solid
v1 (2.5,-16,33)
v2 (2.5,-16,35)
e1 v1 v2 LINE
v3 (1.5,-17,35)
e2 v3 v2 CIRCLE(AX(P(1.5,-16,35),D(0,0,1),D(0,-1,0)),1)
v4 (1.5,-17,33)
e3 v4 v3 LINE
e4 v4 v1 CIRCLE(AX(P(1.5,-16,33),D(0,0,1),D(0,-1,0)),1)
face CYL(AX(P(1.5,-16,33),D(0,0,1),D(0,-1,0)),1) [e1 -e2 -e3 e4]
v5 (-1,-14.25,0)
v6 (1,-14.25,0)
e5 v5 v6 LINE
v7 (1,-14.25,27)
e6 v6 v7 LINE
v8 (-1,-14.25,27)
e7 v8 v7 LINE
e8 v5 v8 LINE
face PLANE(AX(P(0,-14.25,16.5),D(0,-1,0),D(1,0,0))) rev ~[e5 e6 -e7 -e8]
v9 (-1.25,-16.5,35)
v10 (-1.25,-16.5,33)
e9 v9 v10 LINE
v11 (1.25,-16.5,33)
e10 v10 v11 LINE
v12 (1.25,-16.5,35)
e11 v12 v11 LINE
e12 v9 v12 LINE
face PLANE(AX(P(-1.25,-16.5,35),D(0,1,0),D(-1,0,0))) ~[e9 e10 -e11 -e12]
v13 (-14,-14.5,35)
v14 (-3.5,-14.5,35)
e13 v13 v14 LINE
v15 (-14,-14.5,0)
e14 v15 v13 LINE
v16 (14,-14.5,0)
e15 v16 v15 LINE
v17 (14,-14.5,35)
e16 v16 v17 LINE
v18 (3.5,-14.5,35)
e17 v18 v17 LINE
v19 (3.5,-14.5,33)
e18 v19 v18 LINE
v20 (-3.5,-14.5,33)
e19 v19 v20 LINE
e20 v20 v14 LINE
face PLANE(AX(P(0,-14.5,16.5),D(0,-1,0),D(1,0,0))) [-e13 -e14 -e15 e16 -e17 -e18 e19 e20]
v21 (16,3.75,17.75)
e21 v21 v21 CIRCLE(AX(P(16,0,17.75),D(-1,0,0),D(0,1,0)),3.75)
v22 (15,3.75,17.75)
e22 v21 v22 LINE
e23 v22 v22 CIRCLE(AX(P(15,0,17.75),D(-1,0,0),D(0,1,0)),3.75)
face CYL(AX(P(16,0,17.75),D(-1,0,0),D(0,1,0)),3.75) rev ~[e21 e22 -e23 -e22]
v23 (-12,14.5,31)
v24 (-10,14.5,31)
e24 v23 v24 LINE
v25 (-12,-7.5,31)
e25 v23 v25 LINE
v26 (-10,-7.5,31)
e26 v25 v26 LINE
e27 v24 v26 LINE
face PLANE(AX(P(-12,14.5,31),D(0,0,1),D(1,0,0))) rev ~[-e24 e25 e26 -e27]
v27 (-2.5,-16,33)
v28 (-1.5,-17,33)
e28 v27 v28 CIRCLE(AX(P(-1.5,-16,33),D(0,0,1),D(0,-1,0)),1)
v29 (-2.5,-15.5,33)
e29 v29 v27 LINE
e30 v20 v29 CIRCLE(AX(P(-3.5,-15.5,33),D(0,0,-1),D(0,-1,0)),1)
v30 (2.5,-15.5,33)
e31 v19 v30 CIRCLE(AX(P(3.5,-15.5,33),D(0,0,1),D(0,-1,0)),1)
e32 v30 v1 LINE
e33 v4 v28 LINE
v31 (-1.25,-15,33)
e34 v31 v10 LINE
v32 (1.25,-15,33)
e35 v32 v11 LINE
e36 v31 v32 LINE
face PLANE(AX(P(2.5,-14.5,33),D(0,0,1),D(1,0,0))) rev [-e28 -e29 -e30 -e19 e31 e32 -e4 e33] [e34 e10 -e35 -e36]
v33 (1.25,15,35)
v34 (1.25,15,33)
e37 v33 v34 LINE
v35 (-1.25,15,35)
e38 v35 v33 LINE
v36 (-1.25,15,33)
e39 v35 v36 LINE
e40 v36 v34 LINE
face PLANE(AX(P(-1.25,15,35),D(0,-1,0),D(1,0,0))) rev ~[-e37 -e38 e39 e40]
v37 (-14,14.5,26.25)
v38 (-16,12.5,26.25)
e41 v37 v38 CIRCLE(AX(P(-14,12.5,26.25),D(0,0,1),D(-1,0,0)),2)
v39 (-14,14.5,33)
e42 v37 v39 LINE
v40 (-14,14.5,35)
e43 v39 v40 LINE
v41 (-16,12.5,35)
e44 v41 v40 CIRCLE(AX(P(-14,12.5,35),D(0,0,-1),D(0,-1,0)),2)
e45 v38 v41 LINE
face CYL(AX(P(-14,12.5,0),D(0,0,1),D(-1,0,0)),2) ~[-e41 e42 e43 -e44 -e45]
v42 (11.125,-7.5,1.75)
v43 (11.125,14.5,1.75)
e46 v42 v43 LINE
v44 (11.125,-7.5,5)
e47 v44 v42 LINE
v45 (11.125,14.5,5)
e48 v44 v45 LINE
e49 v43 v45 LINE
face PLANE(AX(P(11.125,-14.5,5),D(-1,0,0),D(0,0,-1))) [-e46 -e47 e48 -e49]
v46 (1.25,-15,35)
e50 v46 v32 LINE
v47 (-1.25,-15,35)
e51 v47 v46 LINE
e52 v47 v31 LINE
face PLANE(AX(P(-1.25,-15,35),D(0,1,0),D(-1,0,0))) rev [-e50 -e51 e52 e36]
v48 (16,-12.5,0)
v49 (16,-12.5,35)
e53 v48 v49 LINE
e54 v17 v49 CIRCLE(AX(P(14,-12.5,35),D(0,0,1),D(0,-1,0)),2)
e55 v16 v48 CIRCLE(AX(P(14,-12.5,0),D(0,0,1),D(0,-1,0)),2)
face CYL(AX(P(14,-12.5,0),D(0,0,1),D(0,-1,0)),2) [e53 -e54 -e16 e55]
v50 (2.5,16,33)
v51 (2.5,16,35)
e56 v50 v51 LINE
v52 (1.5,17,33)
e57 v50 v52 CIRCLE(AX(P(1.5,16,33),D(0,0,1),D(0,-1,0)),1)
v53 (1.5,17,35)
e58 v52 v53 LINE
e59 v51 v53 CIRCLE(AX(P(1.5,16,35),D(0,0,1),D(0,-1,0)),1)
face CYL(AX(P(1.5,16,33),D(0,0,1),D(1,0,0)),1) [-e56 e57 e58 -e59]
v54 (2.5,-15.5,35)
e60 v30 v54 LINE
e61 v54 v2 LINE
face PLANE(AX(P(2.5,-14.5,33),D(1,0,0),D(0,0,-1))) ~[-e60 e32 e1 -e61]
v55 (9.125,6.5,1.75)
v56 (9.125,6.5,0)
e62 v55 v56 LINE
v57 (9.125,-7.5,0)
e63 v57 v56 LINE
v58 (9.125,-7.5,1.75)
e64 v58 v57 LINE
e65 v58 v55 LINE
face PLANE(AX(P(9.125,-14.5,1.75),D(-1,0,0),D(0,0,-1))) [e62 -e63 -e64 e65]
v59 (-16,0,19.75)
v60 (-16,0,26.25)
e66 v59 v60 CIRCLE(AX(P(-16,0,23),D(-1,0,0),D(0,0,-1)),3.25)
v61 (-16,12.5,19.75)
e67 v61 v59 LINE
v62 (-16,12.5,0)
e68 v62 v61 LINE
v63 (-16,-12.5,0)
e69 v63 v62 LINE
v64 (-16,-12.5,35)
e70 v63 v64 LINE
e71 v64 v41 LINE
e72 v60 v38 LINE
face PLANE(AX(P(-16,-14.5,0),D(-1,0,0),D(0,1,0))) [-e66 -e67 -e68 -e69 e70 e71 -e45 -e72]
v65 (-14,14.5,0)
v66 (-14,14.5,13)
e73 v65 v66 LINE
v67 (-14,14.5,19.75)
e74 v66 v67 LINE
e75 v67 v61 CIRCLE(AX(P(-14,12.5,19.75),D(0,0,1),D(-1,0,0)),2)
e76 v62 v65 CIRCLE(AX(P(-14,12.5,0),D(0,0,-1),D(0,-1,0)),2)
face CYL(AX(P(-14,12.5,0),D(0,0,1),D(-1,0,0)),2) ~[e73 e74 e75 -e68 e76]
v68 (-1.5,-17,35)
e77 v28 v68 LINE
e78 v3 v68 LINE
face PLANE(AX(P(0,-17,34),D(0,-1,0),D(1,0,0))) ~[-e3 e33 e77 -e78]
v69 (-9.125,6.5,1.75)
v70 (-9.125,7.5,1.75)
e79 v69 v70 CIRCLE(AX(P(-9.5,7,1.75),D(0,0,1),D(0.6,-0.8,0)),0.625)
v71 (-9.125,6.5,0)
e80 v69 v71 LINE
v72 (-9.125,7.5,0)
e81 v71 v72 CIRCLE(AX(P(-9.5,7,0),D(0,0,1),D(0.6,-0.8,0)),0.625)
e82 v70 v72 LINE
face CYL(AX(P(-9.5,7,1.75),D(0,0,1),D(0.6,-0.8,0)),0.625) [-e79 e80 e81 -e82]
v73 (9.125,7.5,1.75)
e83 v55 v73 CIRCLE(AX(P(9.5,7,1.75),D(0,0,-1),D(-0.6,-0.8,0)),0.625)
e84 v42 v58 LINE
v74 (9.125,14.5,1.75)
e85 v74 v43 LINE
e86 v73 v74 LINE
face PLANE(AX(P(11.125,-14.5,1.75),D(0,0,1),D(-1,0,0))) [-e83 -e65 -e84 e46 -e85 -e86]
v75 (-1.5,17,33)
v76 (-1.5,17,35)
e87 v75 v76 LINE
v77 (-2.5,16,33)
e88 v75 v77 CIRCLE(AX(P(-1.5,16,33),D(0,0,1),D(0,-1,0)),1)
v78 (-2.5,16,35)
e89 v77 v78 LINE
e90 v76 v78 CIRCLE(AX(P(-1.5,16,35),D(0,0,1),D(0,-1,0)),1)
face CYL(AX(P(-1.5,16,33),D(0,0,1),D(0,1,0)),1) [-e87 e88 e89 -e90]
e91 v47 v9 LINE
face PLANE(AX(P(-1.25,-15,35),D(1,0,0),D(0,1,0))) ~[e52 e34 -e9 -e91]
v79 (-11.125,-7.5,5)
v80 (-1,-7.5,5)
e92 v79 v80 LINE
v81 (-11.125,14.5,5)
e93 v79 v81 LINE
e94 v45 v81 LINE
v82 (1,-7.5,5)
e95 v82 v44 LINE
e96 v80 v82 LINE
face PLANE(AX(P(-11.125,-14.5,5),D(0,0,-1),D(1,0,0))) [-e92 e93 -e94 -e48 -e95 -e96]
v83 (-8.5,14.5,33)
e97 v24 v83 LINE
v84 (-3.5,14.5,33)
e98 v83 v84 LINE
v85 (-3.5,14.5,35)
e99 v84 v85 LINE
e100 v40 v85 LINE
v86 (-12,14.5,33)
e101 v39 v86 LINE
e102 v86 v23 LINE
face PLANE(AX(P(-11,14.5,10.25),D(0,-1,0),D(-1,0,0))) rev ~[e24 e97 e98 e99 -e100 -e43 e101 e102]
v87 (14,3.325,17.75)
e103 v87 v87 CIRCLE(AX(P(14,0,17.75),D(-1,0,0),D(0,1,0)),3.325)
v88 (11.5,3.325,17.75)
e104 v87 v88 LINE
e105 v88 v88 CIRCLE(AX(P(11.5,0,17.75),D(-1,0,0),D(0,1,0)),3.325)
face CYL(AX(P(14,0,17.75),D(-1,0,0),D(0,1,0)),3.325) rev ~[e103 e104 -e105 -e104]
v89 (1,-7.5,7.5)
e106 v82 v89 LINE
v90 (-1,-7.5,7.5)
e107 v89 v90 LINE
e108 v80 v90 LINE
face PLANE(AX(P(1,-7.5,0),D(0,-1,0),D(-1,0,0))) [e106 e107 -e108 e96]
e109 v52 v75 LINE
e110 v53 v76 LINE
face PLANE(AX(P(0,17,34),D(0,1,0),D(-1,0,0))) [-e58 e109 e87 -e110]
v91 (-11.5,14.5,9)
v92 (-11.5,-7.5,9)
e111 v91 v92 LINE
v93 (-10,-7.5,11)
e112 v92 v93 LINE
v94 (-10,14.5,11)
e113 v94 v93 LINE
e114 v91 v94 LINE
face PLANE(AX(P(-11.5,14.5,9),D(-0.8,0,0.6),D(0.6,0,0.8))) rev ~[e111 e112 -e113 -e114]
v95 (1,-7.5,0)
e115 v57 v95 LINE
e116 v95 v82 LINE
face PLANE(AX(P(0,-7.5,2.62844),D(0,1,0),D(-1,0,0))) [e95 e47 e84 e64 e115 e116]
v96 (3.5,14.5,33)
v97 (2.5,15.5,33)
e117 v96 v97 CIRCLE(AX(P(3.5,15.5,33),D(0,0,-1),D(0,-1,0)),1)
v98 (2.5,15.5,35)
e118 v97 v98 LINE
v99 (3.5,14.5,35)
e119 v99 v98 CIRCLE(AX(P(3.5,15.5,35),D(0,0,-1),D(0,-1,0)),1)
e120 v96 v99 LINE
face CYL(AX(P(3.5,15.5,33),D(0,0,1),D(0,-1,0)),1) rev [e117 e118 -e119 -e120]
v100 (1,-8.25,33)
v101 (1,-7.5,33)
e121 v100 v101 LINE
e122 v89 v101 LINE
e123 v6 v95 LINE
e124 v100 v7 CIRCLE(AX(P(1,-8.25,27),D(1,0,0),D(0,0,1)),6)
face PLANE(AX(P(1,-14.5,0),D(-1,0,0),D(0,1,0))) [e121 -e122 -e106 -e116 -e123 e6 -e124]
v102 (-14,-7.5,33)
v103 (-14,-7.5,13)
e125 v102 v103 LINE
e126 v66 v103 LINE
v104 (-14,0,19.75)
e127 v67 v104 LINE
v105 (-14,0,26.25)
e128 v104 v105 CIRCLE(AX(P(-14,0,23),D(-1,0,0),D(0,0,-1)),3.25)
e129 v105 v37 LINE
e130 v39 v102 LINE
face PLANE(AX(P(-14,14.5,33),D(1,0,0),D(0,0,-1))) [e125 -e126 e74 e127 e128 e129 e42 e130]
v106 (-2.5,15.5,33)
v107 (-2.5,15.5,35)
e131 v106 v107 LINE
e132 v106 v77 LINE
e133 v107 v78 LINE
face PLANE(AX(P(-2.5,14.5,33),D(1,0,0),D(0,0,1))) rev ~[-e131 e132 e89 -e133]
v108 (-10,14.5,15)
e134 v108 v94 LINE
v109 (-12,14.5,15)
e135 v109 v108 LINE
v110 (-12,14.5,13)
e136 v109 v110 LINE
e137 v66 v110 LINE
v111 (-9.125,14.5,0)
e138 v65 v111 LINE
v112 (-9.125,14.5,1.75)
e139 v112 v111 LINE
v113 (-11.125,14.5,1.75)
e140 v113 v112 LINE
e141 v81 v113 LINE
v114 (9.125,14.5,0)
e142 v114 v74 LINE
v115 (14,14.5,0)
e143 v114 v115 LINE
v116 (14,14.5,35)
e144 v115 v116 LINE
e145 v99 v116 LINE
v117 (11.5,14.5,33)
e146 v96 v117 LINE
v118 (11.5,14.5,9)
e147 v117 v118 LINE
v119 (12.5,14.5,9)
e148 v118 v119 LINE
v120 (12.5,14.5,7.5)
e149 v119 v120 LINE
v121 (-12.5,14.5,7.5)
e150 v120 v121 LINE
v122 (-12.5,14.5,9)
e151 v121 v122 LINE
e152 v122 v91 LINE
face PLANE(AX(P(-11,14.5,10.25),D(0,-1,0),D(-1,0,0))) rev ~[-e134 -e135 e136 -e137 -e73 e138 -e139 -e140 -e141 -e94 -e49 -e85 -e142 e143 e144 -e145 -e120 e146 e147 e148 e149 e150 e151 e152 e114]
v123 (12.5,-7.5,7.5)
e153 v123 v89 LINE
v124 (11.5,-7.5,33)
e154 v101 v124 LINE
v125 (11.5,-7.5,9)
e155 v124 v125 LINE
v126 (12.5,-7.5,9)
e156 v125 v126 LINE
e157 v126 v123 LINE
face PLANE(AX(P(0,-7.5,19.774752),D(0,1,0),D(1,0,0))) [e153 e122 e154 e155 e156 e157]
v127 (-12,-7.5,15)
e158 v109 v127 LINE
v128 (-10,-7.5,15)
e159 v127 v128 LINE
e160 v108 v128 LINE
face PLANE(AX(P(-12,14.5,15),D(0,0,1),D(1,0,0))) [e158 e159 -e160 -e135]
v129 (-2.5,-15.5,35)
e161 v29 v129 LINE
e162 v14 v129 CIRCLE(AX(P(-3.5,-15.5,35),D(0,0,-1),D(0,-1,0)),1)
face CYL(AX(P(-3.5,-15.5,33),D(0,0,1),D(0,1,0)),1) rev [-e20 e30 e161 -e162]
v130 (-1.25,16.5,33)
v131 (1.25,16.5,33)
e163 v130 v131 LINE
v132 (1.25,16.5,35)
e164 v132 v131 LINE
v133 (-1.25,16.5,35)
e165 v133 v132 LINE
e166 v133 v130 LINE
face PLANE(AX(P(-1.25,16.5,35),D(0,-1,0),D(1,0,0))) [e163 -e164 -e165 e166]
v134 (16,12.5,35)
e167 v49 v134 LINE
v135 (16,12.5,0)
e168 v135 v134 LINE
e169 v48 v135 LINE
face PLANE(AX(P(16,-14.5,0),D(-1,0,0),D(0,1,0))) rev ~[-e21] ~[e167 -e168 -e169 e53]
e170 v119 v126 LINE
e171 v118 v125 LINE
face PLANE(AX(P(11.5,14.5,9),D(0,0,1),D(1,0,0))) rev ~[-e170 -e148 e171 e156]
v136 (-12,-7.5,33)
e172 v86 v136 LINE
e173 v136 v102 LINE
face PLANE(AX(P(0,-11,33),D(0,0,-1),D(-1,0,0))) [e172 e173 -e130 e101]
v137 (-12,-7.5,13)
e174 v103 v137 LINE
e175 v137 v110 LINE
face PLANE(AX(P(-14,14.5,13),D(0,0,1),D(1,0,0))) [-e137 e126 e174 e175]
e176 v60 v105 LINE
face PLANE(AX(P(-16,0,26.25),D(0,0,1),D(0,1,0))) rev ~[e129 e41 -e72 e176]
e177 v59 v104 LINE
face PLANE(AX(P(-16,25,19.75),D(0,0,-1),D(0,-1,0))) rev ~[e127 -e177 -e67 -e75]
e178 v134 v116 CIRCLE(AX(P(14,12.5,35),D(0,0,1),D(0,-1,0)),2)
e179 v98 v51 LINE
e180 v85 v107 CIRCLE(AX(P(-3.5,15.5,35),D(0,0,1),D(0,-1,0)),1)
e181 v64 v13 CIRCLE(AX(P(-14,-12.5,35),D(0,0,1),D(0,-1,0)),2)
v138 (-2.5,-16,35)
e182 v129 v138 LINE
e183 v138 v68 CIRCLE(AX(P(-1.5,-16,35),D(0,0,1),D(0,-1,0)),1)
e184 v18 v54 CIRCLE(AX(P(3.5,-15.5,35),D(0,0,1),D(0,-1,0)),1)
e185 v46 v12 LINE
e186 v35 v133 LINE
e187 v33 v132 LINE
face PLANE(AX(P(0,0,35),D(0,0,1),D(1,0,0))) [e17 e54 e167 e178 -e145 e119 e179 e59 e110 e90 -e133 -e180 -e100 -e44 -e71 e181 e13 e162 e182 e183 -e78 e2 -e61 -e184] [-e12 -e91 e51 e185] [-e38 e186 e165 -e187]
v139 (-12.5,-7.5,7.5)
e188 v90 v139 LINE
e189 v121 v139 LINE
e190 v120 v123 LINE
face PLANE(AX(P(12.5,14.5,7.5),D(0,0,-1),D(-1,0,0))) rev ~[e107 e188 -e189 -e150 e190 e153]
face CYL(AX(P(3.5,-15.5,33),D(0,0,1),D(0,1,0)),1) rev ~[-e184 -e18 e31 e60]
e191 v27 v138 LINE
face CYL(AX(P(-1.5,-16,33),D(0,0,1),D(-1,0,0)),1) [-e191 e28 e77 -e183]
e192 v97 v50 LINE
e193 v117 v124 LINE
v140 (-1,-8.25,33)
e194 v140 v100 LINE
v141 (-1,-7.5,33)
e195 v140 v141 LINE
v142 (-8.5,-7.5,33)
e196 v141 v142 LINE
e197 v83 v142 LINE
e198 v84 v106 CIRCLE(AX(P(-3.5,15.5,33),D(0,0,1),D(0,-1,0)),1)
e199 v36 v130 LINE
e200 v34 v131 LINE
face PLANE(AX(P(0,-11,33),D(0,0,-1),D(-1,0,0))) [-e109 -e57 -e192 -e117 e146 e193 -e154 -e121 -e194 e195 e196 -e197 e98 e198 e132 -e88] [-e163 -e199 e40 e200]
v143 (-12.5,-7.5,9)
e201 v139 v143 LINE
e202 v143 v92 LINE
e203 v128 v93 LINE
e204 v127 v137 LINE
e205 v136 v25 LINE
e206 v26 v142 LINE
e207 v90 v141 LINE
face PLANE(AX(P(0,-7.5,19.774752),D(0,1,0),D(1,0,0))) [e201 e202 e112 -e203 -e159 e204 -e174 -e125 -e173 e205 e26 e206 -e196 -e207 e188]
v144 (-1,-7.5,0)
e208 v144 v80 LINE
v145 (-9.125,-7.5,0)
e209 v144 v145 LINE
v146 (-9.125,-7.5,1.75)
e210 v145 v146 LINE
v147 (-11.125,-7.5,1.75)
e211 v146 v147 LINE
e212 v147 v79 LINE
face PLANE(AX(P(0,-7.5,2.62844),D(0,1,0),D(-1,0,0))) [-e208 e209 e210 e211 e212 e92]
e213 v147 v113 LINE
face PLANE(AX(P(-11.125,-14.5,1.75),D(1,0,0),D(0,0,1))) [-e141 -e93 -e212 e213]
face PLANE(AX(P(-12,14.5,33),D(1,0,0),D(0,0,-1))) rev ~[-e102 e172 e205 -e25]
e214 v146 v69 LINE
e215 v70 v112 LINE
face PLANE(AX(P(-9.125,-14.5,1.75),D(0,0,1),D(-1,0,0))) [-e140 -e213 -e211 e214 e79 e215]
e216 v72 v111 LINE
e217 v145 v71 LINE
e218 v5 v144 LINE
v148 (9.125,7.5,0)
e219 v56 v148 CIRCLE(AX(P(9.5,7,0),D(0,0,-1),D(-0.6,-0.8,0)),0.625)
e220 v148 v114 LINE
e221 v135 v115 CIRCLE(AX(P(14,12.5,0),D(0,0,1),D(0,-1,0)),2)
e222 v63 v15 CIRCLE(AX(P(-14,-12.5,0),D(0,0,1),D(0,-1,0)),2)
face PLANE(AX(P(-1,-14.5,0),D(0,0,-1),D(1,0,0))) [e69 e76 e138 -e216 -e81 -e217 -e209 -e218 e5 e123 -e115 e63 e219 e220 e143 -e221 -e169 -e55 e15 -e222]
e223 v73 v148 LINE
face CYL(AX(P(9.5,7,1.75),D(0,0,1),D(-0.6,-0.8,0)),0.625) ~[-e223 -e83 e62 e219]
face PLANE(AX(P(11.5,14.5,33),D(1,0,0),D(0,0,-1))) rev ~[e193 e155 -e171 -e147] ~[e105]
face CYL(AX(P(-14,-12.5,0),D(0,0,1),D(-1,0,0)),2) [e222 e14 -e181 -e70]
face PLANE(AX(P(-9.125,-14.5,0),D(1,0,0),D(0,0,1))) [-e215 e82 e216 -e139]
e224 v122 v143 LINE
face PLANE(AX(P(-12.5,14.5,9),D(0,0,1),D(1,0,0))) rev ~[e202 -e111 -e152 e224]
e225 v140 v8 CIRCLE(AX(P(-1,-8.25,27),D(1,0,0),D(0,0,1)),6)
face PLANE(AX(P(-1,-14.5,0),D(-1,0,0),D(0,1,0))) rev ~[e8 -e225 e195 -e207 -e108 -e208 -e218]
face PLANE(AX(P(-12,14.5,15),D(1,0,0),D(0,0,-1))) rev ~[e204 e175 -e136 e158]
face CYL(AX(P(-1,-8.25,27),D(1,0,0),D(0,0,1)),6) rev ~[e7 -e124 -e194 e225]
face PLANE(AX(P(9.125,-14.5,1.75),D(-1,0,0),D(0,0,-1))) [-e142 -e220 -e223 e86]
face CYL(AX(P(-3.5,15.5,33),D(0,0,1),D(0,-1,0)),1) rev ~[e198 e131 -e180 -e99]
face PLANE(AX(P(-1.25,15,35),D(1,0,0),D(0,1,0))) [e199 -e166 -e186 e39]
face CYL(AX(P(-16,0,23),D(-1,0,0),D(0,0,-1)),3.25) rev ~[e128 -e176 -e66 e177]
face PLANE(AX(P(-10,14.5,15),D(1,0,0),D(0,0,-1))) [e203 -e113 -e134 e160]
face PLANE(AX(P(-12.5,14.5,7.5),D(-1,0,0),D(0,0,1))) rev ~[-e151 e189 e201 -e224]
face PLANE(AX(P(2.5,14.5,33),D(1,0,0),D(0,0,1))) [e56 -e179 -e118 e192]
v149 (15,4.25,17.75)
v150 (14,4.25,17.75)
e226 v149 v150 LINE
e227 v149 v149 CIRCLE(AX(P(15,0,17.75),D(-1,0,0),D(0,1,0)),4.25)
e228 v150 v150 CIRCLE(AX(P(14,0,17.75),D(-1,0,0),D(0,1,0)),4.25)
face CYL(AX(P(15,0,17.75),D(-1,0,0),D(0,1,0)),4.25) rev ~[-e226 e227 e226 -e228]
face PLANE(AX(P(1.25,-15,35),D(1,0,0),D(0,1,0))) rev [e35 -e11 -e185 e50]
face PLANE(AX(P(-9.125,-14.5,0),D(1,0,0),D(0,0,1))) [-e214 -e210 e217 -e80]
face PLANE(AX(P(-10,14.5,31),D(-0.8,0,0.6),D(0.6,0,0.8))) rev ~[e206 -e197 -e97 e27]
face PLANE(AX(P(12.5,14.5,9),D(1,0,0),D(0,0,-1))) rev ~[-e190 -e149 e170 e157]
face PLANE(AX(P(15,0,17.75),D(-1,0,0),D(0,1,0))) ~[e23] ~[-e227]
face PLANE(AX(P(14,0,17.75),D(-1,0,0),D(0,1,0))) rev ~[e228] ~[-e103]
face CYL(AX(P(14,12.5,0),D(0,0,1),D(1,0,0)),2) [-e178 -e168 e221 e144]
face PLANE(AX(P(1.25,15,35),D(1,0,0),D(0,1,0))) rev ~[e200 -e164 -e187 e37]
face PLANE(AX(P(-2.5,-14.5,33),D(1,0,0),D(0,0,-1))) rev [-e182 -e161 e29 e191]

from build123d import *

# Parameters (mm, degrees)
SKETCH1_W                = 32
SKETCH1_H                = 29
BOSS_EXTRUDE1_DEPTH      = 35
FILLET1_R                = 2
SLOT_FOR_COIL_DEPTH      = 1
SLOT_FOR_COIL_DEPTH_BACK = 30
BOSS_EXTRUDE2_DEPTH      = 7
BOSS_EXTRUDE3_DEPTH      = 1.75
SKETCH5_W                = 2
SKETCH5_H                = 7
CUT_EXTRUDE2_DEPTH       = 33
CUT_EXTRUDE3_DEPTH       = 22
SKETCH7_W                = 2
SKETCH7_H                = 33
BOSS_EXTRUDE4_DEPTH      = 0.25
FILLET2_R                = 6
CUT_EXTRUDE5_DEPTH       = 4.5
SKETCH14_W               = 2.5
SKETCH14_H               = 20
CUT_EXTRUDE6_DEPTH       = 22
SKETCH16_W               = 2
SKETCH16_H               = 4
SKETCH16_H_2             = 2
BOSS_EXTRUDE5_DEPTH      = 22
BOSS_EXTRUDE6_DEPTH      = 22
SKETCH21_W               = 5
SKETCH21_H               = 2
BOSS_EXTRUDE7_DEPTH      = 2.5
SKETCH23_W               = 2.5
SKETCH23_H               = 1.5
CUT_EXTRUDE7_DEPTH       = 2
FILLET3_R                = 1


with BuildPart() as part:
    # Sketch1 → Boss-Extrude1 (new body)
    with BuildSketch(Plane.XY):
        Rectangle(SKETCH1_W, SKETCH1_H)
    extrude(amount=BOSS_EXTRUDE1_DEPTH)

    # Fillet1
    fillet1_edges = [part.edges().sort_by_distance(p)[0] for p in [
        (16, -14.5, 17.5),
        (-16, -14.5, 17.5),
        (-16, 14.5, 17.5),
        (16, 14.5, 17.5),
    ]]
    fillet(fillet1_edges, radius=FILLET1_R)

    # Sketch2 → Slot for Coil (cut, two sides)
    with BuildSketch(Plane.XZ.offset(14.5)) as slot_for_coil_sk:
        Polygon((-9.125, 0), (-9.125, 1.75), (-11.125, 1.75), (-11.125, 5), (11.125, 5), (11.125, 1.75), (9.125, 1.75), (9.125, 0), align=None)
    extrude(amount=SLOT_FOR_COIL_DEPTH, mode=Mode.SUBTRACT)
    extrude(slot_for_coil_sk.sketch, amount=-SLOT_FOR_COIL_DEPTH_BACK, mode=Mode.SUBTRACT)

    # Sketch3 → Boss-Extrude2 (add)
    with BuildSketch(Plane.XZ.offset(14.5)):
        Polygon((-9.125, 0), (-9.125, 1.75), (-11.125, 1.75), (-11.125, 5), (11.125, 5), (11.125, 1.75), (9.125, 1.75), (9.125, 0), align=None)
    extrude(amount=-BOSS_EXTRUDE2_DEPTH)

    # Sketch4 → Boss-Extrude3 (add)
    with BuildSketch(Plane(origin=(0, 0, 1.75), x_dir=(-1, 0, 0), z_dir=(0, 0, -1))):
        with BuildLine():
            Line((-9.125, 7.5), (-9.125, 6.5))
            ThreePointArc((-9.125, 6.5), (-8.875, 7), (-9.125, 7.5))
        make_face()
    boss_extrude3 = extrude(amount=BOSS_EXTRUDE3_DEPTH)

    # Mirror1: Boss-Extrude3 across plane
    add(boss_extrude3.mirror(Plane(origin=(0, 0, 0), x_dir=(0, 0, 1), z_dir=(1, 0, 0))))

    # Sketch5 → Cut-Extrude2 (cut)
    with BuildSketch(Plane(origin=(0, 0, 0), x_dir=(-1, 0, 0), z_dir=(0, 0, -1))):
        with Locations((0, -11)):
            Rectangle(SKETCH5_W, SKETCH5_H)
    extrude(amount=-CUT_EXTRUDE2_DEPTH, mode=Mode.SUBTRACT)

    # Sketch6 → Cut-Extrude3 (cut)
    with BuildSketch(Plane(origin=(0, 14.5, 0), x_dir=(1, 0, 0), z_dir=(0, 1, 0))):
        Polygon((-12.5, -7.5), (-12.5, -9), (-11.5, -9), (-11.5, -33), (11.5, -33), (11.5, -9), (12.5, -9), (12.5, -7.5), align=None)
    extrude(amount=-CUT_EXTRUDE3_DEPTH, mode=Mode.SUBTRACT)

    # Sketch7 → Boss-Extrude4 (add)
    with BuildSketch(Plane.XZ.offset(14.5)):
        with Locations((0, 16.5)):
            Rectangle(SKETCH7_W, SKETCH7_H)
    extrude(amount=-BOSS_EXTRUDE4_DEPTH)

    # Fillet2
    fillet2_edges = [part.edges().sort_by_distance(p)[0] for p in [
        (0, -14.25, 33),
    ]]
    fillet(fillet2_edges, radius=FILLET2_R)

    # Sketch9 → Cut-Revolve1 (revolve, cut)
    with BuildSketch(Plane(origin=(0, 0, 17.75), x_dir=(-1, 0, 0), z_dir=(0, 0, -1))):
        Polygon((-15, 4.25), (-14, 4.25), (-14, 3.325), (-11.5, 3.325), (-11.5, 0), (-16, 0), (-16, 3.75), (-15, 3.75), align=None)
    revolve(axis=Axis((16, 0, 17.75), (-1, 0, 0)), mode=Mode.SUBTRACT)

    # Sketch11 → Cut-Extrude5 (cut)
    with BuildSketch(Plane(origin=(-16, 0, 44), x_dir=(0, 0, -1), z_dir=(1, 0, 0))):
        with BuildLine():
            Line((24.25, 25), (24.25, 0))
            ThreePointArc((24.25, 0), (21, -3.25), (17.75, 0))
            Line((17.75, 0), (17.75, 25))
            ThreePointArc((17.75, 25), (21, 28.25), (24.25, 25))
        make_face()
    extrude(amount=CUT_EXTRUDE5_DEPTH, mode=Mode.SUBTRACT)

    # Sketch14 → Cut-Extrude6 (cut)
    with BuildSketch(Plane(origin=(0, 14.5, 0), x_dir=(1, 0, 0), z_dir=(0, 1, 0))):
        with Locations((-12.75, -23)):
            Rectangle(SKETCH14_W, SKETCH14_H)
    extrude(amount=-CUT_EXTRUDE6_DEPTH, mode=Mode.SUBTRACT)

    # Sketch16 → Boss-Extrude5 (add)
    with BuildSketch(Plane(origin=(0, 14.5, 0), x_dir=(1, 0, 0), z_dir=(0, 1, 0))):
        with Locations((-11, -13)):
            Rectangle(SKETCH16_W, SKETCH16_H)
        with Locations((-11, -32)):
            Rectangle(SKETCH16_W, SKETCH16_H_2)
    extrude(amount=-BOSS_EXTRUDE5_DEPTH)

    # Sketch20 → Boss-Extrude6 (add)
    with BuildSketch(Plane(origin=(0, 14.5, 0), x_dir=(1, 0, 0), z_dir=(0, 1, 0))):
        Polygon((-11.5, -9), (-10, -11), (-11.5, -11), align=None)
        Polygon((-10, -31), (-8.5, -33), (-10, -33), align=None)
    extrude(amount=-BOSS_EXTRUDE6_DEPTH)

    # Sketch21 → Boss-Extrude7 (add)
    with BuildSketch(Plane(origin=(0, 14.5, 0), x_dir=(-1, 0, 0), z_dir=(0, 1, 0))):
        with Locations((0, 34)):
            Rectangle(SKETCH21_W, SKETCH21_H)
    boss_extrude7 = extrude(amount=BOSS_EXTRUDE7_DEPTH)

    # Sketch23 → Cut-Extrude7 (cut)
    with BuildSketch(Plane.XY.offset(35)):
        with Locations((0, 15.75)):
            Rectangle(SKETCH23_W, SKETCH23_H)
    cut_extrude7 = extrude(amount=-CUT_EXTRUDE7_DEPTH, mode=Mode.SUBTRACT)

    # Mirror3: Boss-Extrude7, Cut-Extrude7 across plane
    add(boss_extrude7.mirror(Plane.ZX))
    add(cut_extrude7.mirror(Plane.ZX), mode=Mode.SUBTRACT)

    # Fillet3
    fillet3_edges = [part.edges().sort_by_distance(p)[0] for p in [
        (2.5, 14.5, 34),
        (-2.5, 14.5, 34),
        (2.5, 17, 34),
        (-2.5, 17, 34),
        (2.5, -17, 34),
        (-2.5, -17, 34),
        (2.5, -14.5, 34),
        (-2.5, -14.5, 34),
    ]]
    fillet(fillet3_edges, radius=FILLET3_R)


solid = part.part
